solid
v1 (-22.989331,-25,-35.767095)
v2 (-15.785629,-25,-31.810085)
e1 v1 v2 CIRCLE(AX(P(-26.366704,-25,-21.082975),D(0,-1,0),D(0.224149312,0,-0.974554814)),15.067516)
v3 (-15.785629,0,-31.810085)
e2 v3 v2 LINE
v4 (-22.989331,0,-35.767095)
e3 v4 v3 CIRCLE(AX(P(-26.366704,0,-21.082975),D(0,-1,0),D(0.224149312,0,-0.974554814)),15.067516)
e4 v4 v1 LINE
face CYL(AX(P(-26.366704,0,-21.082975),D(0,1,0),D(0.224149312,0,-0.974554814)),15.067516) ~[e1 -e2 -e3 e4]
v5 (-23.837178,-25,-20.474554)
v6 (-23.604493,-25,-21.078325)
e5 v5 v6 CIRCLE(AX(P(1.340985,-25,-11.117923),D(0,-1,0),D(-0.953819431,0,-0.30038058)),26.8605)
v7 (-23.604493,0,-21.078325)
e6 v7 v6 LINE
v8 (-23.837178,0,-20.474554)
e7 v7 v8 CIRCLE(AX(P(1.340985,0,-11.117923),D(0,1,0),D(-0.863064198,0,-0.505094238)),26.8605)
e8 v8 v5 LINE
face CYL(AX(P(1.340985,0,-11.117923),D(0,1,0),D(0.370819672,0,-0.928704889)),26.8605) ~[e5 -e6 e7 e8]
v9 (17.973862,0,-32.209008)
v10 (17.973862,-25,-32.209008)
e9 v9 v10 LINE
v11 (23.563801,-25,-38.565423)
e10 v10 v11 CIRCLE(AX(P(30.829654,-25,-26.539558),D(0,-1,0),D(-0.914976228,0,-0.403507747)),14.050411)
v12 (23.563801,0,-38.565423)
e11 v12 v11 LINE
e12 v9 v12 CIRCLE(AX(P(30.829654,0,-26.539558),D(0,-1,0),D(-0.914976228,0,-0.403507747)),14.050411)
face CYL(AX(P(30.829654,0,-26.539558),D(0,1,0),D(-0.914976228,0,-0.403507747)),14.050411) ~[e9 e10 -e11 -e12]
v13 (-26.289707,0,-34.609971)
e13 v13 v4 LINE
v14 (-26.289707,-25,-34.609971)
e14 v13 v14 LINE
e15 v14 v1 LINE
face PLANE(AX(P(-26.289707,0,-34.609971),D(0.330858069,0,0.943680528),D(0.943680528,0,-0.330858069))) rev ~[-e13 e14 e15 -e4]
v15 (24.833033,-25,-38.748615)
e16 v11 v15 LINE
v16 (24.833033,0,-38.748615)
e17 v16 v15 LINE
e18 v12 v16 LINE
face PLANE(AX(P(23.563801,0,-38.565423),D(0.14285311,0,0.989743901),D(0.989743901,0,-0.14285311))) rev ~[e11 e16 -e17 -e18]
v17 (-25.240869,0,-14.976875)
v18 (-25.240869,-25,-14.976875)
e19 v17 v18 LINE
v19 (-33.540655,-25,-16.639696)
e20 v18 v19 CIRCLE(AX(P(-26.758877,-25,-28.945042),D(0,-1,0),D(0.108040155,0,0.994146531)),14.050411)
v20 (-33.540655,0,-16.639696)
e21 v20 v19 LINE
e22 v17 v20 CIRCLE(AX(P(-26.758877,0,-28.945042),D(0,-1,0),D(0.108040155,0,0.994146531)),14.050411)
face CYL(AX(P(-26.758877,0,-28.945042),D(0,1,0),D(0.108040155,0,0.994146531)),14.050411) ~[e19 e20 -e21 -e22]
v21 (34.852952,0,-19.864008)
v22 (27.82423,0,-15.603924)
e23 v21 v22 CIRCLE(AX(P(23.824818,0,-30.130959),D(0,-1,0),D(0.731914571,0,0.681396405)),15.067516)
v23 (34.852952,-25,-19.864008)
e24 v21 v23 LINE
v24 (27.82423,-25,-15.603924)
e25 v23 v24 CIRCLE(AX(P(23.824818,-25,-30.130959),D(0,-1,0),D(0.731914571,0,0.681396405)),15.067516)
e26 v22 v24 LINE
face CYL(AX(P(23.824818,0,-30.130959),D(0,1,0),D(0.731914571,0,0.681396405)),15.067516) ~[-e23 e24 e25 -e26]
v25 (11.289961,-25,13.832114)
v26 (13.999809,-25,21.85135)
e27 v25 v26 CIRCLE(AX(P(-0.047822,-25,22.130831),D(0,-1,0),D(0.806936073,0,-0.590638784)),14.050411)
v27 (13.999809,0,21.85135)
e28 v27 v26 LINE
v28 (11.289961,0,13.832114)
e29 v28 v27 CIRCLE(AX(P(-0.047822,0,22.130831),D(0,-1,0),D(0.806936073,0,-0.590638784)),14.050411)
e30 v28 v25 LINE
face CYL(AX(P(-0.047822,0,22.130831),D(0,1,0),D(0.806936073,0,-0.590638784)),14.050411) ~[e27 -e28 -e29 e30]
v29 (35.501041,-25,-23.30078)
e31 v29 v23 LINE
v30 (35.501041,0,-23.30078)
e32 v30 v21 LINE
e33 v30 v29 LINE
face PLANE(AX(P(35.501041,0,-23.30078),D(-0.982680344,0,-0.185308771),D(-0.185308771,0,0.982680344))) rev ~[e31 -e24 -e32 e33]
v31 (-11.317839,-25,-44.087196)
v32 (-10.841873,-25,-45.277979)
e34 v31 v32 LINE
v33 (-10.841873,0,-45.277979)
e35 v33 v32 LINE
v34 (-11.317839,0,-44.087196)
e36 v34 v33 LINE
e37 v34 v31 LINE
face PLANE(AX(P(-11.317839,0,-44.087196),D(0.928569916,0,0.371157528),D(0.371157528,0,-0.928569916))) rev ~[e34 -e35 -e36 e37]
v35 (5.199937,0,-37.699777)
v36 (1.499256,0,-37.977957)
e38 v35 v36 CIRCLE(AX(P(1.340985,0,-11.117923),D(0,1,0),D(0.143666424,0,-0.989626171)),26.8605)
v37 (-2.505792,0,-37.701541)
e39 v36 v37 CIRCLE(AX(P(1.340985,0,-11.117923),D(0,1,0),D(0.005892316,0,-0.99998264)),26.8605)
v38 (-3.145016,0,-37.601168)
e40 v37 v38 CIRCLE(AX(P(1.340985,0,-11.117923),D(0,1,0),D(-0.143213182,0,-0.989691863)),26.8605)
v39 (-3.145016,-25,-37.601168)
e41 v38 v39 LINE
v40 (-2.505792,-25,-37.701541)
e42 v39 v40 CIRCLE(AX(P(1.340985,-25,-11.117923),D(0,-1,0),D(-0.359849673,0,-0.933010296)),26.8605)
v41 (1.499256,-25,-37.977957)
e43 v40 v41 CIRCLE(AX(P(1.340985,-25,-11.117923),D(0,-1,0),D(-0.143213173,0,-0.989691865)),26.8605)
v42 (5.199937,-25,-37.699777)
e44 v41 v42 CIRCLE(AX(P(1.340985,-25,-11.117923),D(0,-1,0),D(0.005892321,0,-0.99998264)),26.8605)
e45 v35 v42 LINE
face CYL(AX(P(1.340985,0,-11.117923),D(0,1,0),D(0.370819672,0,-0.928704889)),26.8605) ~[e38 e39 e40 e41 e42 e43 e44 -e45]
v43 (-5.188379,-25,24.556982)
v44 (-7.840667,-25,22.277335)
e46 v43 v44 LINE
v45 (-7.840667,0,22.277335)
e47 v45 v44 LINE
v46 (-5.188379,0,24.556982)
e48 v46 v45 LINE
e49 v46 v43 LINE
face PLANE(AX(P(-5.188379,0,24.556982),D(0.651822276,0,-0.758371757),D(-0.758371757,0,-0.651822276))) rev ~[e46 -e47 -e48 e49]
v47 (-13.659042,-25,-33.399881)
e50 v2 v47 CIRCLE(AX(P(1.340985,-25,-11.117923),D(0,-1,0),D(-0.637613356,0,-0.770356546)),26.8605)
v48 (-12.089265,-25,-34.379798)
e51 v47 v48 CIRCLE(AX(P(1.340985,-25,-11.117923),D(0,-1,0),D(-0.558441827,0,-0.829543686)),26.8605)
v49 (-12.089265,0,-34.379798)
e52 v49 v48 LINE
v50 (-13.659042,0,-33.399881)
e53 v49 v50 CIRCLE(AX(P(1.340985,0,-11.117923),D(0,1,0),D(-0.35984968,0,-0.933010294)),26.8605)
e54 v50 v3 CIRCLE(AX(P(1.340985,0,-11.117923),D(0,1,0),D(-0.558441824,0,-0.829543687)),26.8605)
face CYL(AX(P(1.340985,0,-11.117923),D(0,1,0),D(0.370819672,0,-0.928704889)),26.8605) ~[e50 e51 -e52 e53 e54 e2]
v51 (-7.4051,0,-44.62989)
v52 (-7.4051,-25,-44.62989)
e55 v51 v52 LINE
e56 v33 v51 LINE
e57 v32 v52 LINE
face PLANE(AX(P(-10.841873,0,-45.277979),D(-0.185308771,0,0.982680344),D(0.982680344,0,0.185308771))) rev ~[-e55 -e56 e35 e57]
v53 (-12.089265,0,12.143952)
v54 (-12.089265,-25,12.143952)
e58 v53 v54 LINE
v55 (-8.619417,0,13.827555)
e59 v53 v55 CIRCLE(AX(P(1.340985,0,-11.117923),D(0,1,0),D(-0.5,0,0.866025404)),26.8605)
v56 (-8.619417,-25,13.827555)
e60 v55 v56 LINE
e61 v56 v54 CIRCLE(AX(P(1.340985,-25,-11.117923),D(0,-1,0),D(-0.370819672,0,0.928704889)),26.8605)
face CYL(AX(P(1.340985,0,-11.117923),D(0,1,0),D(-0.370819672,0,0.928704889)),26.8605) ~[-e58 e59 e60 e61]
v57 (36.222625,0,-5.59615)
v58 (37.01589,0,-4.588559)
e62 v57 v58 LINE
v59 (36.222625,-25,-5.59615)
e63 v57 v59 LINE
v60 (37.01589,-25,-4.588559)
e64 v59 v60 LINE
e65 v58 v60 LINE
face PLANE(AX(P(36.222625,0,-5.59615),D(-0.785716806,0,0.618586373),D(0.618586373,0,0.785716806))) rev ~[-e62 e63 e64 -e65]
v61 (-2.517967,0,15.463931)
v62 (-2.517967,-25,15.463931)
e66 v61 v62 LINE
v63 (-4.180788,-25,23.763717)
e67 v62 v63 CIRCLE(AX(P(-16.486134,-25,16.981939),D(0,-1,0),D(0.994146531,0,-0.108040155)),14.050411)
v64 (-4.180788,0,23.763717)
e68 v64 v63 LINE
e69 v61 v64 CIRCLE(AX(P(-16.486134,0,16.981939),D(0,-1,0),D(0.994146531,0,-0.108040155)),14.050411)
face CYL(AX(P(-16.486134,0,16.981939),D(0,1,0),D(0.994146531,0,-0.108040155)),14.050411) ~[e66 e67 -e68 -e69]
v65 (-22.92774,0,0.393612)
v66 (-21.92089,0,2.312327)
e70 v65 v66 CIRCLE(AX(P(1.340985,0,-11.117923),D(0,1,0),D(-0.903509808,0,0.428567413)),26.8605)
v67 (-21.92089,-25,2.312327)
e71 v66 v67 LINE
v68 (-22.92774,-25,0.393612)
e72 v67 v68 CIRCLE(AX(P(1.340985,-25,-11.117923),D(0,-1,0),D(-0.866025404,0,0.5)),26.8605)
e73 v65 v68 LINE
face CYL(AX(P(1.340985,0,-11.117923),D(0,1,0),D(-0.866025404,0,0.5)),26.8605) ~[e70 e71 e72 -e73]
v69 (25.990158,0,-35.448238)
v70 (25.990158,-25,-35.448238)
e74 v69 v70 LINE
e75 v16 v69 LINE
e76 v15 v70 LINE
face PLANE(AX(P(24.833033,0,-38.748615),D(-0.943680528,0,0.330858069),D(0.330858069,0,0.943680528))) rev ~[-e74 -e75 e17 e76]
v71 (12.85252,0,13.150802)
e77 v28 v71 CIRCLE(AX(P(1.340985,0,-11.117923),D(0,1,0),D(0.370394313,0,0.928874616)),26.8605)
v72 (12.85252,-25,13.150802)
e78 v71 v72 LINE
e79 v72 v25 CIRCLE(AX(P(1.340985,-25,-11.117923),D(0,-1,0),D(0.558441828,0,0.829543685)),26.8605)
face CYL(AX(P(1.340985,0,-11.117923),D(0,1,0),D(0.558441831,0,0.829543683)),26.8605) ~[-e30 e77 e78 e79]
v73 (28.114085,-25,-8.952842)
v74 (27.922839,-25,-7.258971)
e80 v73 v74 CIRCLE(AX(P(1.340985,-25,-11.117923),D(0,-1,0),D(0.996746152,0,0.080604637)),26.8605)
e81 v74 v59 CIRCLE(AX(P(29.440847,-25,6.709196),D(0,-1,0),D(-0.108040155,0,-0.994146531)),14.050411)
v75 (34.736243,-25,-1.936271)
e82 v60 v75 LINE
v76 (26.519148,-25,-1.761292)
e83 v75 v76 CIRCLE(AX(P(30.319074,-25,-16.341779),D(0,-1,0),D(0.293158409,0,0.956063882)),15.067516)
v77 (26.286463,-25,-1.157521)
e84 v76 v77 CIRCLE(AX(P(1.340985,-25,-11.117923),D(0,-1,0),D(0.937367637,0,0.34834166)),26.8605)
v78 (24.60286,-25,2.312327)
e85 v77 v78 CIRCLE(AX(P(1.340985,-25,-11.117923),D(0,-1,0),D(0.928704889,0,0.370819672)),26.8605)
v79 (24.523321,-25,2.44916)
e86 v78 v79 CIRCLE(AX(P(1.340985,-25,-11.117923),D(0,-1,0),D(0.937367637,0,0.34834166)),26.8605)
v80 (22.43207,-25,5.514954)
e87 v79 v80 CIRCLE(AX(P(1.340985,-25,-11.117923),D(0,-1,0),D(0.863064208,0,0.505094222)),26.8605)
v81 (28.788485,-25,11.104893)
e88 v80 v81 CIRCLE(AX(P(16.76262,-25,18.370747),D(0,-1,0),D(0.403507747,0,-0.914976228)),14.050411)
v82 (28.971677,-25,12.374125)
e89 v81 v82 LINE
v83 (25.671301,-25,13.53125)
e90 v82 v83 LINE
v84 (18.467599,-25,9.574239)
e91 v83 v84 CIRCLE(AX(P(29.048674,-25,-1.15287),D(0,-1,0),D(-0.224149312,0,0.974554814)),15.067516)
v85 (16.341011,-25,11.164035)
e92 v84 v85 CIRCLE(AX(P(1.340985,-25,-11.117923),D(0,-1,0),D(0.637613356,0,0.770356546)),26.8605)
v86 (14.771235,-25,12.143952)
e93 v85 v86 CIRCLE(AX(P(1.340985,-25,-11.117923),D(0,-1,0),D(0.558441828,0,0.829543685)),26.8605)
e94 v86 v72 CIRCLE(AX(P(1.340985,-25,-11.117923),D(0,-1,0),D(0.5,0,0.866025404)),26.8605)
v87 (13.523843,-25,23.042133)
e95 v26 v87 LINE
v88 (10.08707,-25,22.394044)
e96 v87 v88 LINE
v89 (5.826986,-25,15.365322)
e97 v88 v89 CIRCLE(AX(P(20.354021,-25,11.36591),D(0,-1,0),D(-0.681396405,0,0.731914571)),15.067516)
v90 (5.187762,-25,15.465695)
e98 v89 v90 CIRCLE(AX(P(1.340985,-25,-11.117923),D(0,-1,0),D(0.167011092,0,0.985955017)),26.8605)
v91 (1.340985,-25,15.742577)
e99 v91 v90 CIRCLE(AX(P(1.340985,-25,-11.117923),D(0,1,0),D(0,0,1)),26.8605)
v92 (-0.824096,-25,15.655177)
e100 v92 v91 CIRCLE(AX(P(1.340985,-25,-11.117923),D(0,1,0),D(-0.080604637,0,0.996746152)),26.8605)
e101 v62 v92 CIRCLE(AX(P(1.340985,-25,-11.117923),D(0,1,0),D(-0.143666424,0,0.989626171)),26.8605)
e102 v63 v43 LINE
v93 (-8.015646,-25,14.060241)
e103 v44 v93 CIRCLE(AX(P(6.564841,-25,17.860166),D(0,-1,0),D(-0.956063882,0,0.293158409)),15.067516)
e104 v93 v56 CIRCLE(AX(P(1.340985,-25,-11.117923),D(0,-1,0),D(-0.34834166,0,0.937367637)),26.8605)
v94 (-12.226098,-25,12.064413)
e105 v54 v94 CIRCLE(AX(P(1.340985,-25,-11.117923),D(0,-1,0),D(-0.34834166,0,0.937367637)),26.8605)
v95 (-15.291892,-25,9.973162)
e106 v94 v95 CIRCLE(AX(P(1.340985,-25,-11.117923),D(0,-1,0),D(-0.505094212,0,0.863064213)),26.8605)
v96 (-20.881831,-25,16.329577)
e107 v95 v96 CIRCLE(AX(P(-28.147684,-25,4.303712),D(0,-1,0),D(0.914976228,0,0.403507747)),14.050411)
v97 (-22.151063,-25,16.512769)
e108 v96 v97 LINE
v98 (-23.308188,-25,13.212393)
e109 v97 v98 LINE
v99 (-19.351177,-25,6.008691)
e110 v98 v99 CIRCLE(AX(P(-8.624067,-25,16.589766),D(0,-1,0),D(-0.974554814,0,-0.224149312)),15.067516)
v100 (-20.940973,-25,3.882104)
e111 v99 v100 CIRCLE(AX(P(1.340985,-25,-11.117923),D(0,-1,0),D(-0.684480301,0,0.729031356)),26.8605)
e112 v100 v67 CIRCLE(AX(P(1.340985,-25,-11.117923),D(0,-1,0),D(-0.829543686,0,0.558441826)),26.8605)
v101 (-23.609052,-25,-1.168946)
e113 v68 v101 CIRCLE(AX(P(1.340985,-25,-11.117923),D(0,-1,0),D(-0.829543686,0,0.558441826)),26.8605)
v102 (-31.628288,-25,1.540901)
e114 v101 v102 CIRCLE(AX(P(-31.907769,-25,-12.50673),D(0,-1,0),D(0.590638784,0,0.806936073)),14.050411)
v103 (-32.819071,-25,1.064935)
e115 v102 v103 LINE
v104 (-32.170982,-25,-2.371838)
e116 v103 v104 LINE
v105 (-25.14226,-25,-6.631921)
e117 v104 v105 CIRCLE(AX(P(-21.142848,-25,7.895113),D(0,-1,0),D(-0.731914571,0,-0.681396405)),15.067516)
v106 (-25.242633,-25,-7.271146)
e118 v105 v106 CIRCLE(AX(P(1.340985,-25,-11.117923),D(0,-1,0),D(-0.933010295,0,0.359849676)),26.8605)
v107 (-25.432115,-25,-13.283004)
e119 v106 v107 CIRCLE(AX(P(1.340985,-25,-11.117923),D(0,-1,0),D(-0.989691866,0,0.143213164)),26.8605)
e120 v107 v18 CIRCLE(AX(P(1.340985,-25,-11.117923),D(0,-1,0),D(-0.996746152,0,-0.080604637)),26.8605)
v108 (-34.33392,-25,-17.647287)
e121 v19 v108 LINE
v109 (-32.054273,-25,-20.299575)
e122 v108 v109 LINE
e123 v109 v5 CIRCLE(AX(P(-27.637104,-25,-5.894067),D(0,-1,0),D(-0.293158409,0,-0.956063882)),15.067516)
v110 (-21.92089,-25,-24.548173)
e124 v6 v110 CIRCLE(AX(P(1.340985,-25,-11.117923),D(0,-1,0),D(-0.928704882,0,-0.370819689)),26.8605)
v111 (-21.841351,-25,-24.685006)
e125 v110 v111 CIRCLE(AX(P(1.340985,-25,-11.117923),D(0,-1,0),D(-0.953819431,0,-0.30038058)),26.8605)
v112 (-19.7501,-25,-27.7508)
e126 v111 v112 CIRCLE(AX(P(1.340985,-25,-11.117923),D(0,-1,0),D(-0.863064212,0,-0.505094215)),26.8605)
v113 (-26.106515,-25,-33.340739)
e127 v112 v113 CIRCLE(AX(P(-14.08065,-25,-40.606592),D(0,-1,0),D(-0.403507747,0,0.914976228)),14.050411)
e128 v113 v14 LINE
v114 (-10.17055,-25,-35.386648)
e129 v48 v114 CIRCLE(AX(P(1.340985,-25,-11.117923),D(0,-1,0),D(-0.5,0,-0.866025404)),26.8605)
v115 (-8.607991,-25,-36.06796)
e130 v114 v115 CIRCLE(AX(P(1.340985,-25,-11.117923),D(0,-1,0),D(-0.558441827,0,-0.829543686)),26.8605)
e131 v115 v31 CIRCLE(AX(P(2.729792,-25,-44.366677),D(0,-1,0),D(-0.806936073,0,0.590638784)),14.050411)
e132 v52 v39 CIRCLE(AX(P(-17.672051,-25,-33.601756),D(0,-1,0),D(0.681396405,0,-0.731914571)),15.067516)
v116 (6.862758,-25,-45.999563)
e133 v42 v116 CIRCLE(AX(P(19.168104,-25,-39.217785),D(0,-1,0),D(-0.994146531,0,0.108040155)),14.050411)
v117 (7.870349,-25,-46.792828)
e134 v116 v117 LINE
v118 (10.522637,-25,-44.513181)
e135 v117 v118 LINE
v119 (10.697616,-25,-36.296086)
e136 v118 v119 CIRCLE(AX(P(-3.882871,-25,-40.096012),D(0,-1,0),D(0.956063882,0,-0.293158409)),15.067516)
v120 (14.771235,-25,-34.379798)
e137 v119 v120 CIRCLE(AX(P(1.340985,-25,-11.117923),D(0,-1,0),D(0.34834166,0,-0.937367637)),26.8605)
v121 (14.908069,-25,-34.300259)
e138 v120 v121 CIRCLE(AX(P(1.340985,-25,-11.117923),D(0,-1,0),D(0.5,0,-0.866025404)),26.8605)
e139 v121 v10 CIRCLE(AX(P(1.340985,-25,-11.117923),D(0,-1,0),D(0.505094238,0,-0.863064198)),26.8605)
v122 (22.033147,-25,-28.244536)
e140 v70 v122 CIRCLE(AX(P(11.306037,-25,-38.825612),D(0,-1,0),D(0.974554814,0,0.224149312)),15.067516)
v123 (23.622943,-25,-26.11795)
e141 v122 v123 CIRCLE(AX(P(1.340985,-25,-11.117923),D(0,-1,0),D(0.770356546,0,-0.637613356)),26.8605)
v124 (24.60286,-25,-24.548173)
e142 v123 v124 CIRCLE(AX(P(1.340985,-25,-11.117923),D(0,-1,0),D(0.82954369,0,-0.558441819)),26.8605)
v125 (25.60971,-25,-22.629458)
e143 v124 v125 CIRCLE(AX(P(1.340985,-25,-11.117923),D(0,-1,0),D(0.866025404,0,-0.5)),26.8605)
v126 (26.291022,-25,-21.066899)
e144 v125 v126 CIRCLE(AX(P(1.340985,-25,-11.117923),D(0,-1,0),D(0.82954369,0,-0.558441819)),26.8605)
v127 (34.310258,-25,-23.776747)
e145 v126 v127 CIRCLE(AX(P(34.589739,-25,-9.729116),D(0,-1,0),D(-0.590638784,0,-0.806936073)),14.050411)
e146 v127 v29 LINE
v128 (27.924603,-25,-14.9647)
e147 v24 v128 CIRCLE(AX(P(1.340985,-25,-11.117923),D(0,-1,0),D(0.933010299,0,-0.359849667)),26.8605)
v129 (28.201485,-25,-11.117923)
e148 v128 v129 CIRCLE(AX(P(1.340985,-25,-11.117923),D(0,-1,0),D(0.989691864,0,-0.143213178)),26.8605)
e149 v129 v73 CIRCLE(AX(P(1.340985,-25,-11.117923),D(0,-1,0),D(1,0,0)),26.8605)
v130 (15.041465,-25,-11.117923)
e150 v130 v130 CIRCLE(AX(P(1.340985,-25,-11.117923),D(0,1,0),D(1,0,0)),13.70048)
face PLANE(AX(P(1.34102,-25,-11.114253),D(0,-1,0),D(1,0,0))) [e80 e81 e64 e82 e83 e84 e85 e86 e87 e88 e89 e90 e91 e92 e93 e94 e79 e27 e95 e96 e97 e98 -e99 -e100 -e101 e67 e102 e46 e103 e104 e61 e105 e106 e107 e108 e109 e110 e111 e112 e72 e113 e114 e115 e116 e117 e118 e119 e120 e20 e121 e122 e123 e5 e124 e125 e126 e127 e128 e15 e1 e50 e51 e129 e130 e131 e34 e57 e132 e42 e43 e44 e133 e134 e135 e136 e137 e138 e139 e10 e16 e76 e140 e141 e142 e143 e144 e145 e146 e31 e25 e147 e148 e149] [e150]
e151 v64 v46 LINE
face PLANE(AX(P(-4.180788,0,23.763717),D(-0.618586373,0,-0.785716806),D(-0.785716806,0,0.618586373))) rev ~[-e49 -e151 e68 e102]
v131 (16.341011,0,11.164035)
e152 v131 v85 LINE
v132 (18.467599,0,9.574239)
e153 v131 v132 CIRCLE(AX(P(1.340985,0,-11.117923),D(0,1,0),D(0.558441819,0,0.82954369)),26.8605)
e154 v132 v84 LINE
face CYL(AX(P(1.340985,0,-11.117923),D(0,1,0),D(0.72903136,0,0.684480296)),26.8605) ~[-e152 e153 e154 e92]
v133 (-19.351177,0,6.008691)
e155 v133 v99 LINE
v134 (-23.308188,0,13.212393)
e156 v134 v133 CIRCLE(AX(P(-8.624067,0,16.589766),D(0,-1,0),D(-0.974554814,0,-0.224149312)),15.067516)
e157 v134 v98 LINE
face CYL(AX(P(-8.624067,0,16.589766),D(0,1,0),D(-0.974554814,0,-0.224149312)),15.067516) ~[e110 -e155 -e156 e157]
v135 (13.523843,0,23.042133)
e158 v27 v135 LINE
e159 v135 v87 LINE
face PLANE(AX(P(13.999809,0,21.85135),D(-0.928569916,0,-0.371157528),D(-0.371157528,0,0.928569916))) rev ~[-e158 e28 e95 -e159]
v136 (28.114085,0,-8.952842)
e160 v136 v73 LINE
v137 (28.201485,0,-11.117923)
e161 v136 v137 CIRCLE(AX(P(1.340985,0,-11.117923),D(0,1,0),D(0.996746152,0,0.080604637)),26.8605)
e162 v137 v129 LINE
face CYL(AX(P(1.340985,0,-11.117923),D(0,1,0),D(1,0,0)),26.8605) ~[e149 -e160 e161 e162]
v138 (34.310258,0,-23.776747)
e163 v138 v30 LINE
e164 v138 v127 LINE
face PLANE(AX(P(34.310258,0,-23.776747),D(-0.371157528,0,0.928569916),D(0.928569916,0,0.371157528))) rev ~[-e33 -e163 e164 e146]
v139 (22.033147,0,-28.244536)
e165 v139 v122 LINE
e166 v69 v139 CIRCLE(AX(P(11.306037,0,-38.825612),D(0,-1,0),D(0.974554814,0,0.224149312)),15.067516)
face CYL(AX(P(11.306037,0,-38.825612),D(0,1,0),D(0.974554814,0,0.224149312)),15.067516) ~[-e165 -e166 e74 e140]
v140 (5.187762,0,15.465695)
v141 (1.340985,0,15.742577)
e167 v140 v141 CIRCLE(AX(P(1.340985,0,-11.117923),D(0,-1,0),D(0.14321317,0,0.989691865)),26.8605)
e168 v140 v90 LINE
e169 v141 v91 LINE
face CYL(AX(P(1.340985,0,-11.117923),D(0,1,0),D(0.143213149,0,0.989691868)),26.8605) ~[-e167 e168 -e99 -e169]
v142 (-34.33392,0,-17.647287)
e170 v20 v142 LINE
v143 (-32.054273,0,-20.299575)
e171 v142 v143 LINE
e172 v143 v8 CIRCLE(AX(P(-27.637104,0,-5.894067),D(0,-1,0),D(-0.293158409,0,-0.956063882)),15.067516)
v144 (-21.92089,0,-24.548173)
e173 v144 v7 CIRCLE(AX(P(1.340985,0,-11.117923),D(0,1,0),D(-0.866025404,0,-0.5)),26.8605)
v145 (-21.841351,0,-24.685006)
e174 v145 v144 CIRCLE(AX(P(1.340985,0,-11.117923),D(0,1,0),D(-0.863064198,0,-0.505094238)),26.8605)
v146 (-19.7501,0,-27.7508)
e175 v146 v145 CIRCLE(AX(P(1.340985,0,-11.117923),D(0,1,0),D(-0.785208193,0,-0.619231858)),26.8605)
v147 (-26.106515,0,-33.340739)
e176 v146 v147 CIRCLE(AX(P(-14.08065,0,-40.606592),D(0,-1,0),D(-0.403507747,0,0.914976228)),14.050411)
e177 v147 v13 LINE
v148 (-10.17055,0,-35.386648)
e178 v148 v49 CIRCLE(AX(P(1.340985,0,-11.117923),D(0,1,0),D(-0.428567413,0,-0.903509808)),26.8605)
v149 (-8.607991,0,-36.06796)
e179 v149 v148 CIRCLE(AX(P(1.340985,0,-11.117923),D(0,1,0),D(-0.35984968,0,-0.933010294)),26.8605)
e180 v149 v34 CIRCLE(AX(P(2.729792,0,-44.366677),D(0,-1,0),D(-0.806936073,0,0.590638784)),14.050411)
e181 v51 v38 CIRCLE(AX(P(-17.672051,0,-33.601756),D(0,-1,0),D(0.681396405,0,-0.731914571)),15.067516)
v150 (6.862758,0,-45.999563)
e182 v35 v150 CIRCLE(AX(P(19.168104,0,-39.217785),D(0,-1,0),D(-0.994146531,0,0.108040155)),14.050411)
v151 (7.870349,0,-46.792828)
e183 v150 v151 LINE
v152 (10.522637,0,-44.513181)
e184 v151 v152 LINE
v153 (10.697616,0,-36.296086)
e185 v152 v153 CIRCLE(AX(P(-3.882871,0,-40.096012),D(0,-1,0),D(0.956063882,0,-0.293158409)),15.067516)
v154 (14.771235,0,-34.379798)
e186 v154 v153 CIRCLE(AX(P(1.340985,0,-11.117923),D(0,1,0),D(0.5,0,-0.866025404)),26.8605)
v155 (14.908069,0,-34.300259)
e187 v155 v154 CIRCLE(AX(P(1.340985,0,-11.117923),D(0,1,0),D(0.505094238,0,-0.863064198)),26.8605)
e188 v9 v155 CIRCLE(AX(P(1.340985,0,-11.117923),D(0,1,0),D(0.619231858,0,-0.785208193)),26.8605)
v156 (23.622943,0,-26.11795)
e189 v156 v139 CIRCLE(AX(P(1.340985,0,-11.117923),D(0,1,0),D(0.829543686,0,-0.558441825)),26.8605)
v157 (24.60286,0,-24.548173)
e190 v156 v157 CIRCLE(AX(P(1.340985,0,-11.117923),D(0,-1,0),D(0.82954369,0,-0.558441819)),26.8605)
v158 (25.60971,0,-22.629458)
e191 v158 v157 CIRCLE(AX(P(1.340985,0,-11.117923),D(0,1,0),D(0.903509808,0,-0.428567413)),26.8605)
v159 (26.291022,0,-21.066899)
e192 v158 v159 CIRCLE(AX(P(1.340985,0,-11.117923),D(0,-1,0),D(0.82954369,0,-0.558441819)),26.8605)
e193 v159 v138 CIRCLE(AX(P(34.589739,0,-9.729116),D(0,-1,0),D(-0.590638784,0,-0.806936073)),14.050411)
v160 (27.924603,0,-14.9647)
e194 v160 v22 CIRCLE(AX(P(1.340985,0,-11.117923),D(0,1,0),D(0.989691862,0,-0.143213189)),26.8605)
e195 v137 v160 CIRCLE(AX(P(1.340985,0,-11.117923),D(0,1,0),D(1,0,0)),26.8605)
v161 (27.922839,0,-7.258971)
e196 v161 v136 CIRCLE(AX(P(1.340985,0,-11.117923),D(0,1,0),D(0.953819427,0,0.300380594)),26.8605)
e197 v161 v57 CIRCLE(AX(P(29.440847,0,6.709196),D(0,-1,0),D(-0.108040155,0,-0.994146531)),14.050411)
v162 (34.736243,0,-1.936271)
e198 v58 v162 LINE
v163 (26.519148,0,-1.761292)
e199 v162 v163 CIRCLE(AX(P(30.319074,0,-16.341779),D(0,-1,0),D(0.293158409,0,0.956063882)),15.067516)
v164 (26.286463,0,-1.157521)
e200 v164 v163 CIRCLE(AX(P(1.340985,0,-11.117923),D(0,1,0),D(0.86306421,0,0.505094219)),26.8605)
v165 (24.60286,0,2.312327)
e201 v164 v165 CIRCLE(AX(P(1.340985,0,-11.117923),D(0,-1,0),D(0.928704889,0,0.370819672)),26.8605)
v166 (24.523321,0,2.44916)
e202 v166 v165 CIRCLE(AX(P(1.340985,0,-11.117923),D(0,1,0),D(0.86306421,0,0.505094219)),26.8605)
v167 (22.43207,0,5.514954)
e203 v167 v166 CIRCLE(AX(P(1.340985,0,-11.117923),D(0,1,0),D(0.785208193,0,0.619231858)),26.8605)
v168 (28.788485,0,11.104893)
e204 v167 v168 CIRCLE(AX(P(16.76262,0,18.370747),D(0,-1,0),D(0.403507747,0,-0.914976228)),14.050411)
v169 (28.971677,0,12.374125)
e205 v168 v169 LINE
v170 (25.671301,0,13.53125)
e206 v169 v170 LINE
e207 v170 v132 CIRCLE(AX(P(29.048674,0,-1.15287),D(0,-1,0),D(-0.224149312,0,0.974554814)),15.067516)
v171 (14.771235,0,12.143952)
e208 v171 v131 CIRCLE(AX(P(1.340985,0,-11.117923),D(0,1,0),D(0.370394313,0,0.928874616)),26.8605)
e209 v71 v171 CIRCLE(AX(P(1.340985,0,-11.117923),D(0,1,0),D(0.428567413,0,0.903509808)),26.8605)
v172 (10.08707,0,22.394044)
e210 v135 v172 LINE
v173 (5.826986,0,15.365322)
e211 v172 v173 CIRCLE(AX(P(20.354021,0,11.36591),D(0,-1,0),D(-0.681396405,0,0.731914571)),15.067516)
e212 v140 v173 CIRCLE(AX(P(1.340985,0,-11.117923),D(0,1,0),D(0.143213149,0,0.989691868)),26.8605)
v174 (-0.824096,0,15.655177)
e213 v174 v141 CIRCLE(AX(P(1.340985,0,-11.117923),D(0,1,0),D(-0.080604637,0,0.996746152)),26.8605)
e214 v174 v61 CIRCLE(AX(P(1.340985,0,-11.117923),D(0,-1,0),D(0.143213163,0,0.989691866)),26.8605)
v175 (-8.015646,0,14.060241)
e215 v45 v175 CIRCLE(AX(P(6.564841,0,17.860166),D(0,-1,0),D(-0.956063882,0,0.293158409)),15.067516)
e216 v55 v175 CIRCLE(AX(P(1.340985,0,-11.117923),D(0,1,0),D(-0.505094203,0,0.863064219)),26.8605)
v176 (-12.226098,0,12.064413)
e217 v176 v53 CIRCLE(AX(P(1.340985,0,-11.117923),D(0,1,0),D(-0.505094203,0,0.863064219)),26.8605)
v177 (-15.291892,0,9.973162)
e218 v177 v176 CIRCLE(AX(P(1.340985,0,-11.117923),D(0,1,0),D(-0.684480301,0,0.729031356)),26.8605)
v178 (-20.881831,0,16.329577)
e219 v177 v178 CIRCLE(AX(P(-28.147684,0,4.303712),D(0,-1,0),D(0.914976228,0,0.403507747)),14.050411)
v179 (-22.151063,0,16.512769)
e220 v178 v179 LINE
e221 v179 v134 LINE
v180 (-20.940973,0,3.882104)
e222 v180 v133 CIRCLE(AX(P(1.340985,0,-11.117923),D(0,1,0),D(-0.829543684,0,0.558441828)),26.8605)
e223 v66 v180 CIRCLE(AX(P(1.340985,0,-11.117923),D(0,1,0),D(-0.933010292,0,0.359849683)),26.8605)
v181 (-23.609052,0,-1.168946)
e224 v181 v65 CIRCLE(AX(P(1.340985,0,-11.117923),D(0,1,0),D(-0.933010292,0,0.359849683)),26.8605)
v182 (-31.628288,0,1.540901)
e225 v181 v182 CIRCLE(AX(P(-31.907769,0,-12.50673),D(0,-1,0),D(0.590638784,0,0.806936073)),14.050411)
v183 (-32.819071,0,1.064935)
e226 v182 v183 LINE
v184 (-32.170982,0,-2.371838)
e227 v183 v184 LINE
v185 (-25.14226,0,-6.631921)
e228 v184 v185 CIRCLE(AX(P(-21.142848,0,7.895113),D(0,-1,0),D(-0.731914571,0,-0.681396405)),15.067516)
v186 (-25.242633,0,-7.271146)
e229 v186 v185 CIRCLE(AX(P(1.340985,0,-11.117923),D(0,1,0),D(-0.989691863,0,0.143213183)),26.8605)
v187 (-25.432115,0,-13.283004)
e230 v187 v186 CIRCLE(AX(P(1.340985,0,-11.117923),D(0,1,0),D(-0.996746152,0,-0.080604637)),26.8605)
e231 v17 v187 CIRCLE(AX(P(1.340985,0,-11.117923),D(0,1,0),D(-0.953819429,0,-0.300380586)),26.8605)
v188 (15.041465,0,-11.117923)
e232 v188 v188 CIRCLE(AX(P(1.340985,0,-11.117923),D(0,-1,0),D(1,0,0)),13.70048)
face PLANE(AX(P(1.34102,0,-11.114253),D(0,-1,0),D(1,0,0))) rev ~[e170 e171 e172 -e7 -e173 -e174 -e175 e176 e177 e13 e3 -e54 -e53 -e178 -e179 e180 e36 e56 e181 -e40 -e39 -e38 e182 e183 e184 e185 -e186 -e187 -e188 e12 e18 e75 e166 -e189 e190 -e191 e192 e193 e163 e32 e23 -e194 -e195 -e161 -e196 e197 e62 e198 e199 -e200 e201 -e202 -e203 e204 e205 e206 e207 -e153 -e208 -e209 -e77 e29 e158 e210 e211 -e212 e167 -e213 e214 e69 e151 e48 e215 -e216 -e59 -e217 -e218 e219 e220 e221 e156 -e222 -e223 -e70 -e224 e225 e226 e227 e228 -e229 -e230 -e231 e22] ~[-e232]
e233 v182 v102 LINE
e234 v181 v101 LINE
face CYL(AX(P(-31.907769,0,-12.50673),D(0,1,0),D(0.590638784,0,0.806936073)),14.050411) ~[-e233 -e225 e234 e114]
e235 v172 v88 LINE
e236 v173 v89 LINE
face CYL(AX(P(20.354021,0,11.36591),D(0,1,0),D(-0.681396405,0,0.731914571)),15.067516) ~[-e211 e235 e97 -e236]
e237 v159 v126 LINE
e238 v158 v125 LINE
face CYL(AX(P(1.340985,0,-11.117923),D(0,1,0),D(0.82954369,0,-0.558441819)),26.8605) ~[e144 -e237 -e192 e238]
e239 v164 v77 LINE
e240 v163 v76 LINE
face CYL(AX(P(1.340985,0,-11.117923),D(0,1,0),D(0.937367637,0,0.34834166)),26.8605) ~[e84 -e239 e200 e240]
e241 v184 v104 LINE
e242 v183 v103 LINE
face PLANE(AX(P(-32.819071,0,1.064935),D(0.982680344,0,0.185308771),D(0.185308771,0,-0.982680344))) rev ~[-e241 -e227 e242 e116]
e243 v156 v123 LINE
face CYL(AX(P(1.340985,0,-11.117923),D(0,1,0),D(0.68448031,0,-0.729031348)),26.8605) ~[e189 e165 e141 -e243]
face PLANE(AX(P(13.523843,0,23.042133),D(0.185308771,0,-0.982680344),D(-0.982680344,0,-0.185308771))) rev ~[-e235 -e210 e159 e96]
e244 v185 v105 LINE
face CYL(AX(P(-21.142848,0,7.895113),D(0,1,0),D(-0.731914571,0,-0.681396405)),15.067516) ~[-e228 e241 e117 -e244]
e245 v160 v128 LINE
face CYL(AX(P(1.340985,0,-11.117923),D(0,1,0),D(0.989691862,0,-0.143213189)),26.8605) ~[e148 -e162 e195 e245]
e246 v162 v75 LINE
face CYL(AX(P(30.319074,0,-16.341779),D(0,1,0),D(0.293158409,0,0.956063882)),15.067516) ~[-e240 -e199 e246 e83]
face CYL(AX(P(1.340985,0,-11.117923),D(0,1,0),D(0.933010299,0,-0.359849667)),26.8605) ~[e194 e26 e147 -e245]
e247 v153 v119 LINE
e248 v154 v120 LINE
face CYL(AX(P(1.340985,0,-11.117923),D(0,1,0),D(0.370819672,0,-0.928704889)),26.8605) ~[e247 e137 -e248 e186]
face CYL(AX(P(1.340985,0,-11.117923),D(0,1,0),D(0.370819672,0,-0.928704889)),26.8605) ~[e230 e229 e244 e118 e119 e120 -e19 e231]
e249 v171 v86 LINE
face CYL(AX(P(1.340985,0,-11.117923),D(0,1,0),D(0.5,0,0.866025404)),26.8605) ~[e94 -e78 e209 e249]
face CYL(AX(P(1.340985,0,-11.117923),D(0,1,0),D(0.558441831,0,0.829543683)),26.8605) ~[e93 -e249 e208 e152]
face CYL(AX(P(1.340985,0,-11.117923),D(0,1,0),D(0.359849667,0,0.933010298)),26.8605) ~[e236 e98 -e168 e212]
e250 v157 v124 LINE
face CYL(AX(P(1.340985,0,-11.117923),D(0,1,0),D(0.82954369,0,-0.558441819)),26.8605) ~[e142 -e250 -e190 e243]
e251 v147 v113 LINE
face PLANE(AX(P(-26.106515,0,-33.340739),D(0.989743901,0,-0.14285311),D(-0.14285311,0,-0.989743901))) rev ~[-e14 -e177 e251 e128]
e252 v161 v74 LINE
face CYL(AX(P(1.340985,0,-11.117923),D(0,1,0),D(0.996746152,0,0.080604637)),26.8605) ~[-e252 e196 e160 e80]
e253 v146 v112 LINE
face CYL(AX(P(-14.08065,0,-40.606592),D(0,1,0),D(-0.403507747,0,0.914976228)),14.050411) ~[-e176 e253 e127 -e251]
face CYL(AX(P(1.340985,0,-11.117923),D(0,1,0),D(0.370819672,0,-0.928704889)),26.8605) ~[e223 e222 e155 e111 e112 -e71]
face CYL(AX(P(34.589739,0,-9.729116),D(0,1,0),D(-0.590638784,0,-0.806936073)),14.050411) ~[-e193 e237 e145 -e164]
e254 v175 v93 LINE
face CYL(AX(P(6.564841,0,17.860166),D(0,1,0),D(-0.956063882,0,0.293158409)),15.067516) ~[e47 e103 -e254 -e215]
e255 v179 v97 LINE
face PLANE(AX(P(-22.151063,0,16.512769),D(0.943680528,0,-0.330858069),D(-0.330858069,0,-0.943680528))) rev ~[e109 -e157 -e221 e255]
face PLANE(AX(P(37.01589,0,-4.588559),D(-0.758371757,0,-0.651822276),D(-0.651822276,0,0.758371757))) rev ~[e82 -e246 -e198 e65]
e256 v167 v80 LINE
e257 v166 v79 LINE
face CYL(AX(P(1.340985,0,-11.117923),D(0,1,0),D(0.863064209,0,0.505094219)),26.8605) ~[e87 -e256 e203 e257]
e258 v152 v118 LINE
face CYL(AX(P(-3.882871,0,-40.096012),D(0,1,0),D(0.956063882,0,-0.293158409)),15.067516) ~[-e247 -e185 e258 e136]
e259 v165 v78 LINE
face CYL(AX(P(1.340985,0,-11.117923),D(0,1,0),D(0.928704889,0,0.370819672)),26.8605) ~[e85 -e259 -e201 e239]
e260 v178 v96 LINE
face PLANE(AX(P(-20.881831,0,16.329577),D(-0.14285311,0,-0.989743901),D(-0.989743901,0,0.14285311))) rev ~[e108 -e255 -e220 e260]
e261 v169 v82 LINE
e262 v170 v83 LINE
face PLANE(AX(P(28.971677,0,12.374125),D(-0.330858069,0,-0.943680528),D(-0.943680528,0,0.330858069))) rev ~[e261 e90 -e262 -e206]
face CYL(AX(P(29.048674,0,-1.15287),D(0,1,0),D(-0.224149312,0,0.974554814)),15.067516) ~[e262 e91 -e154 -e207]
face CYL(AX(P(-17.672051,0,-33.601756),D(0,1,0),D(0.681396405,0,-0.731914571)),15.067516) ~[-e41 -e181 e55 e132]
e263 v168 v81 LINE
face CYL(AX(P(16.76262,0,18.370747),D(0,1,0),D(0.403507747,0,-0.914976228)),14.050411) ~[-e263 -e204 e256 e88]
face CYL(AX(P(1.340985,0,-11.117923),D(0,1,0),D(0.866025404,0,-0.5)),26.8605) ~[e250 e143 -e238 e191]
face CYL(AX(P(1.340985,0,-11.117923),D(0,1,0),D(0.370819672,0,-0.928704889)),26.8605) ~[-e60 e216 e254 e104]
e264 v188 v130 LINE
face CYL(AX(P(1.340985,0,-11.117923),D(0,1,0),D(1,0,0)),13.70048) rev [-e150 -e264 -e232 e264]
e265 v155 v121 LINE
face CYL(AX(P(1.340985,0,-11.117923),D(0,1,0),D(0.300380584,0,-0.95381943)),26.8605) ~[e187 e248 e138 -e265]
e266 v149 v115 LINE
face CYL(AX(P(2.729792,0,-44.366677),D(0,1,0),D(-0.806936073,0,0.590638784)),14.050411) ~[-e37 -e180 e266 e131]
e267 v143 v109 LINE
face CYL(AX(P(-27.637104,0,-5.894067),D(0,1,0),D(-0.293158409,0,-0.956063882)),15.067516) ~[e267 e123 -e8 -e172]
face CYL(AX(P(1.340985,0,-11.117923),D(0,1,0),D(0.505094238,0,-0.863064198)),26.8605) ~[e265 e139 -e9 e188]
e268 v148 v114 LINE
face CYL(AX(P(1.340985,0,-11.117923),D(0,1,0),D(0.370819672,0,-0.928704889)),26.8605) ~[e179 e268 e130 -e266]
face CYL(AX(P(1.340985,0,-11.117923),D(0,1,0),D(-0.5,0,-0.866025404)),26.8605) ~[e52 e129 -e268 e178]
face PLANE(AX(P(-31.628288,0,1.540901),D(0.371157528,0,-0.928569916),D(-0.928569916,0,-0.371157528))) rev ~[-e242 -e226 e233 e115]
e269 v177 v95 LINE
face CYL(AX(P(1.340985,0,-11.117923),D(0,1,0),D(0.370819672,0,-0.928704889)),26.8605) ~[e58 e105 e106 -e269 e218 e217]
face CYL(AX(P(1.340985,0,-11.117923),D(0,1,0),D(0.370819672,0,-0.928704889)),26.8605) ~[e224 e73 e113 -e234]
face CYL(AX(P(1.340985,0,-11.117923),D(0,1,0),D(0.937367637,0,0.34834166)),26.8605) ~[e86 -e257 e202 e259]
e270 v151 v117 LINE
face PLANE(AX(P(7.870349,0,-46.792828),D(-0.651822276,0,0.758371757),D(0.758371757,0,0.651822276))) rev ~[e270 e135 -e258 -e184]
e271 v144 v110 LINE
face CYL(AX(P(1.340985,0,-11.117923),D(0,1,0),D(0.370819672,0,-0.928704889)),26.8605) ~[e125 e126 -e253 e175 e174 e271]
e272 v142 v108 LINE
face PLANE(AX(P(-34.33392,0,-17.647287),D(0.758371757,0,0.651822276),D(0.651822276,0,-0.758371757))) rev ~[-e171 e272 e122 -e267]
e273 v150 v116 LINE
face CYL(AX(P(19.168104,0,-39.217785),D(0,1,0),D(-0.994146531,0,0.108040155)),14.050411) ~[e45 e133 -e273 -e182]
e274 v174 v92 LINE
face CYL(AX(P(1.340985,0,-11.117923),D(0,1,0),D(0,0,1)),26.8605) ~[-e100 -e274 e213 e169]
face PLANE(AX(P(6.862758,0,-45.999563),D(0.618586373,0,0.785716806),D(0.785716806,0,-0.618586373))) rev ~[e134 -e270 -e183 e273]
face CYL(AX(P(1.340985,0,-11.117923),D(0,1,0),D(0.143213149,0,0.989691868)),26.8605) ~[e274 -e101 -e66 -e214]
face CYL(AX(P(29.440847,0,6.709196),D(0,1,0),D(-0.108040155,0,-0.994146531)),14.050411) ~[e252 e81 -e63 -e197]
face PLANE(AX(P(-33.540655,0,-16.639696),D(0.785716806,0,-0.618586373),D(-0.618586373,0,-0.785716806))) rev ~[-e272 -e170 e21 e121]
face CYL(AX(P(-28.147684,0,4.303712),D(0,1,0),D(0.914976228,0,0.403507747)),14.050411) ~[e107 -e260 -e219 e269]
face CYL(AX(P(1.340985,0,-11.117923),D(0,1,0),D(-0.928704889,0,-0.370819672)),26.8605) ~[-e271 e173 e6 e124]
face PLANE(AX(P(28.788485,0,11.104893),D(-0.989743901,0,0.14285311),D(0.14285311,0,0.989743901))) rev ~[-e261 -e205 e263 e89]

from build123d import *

# Parameters (mm, degrees)
F0_R     = 13.7004804212
F1_DEPTH = 25
F2_COUNT = 12


with BuildPart() as f1:
    # F0 (on Front) → F1 (new body)
    with BuildSketch(Plane.XZ):
        with BuildLine():
            ThreePointArc((5.1877617459, 15.4656955182), (1.3348337551, 15.7425763881), (-2.5179670171, 15.4639308632))
            ThreePointArc((-2.5179670171, 15.4639308632), (-5.3039752447, 14.9076599703), (-8.0156462094, 14.0602405167))
            ThreePointArc((-8.0156462094, 14.0602405167), (-10.1642311279, 13.1537985607), (-12.2260978725, 12.064413551))
            ThreePointArc((-12.2260978725, 12.064413551), (-14.7363892101, 10.3996164513), (-17.044498214, 8.4642237758))
            ThreePointArc((-17.044498214, 8.4642237758), (-19.1213988999, 6.2825744141), (-20.9409732492, 3.8821037136))
            ThreePointArc((-20.9409732492, 3.8821037136), (-22.4803390837, 1.292998939), (-23.7201379517, -1.4521803764))
            ThreePointArc((-23.7201379517, -1.4521803764), (-24.6447786512, -4.3189119634), (-25.2426333118, -7.2711450539))
            ThreePointArc((-25.2426333118, -7.2711450539), (-25.5061835733, -10.2717538785), (-25.4321150685, -13.2830037711))
            ThreePointArc((-25.4321150685, -13.2830037711), (-25.0213593458, -16.2670260316), (-24.2790819112, -19.1862953452))
            ThreePointArc((-24.2790819112, -19.1862953452), (-23.2146169595, -22.0041010545), (-21.8413509371, -24.6850067))
            ThreePointArc((-21.8413509371, -24.6850067), (-20.1765542068, -27.195297335), (-18.2411620449, -29.5034057391))
            ThreePointArc((-18.2411620449, -29.5034057391), (-16.0595125704, -31.5803065899), (-13.6590417261, -33.3998810729))
            ThreePointArc((-13.6590417261, -33.3998810729), (-11.0699368198, -34.9392469858), (-8.3247573578, -36.1790459013))
            ThreePointArc((-8.3247573578, -36.1790459013), (-5.4580256945, -37.1036865942), (-2.5057925274, -37.701541232))
            ThreePointArc((-2.5057925274, -37.701541232), (0.494815816, -37.9650914367), (3.5060652253, -37.8910229838))
            ThreePointArc((3.5060652253, -37.8910229838), (6.490087912, -37.4802672463), (9.4093576356, -36.7379897032))
            ThreePointArc((9.4093576356, -36.7379897032), (12.2271632206, -35.6735247759), (14.9080687518, -34.3002588042))
            ThreePointArc((14.9080687518, -34.3002588042), (17.418359676, -32.6354618578), (19.7264683173, -30.7000694179))
            ThreePointArc((19.7264683173, -30.7000694179), (21.8033689519, -28.5184200728), (23.6229432563, -26.1179493978))
            ThreePointArc((23.6229432563, -26.1179493978), (25.1623091778, -23.5288444178), (26.4021080868, -20.7836648785))
            ThreePointArc((26.4021080868, -20.7836648785), (27.3267486462, -17.9169335612), (27.9246032308, -14.9647007613))
            ThreePointArc((27.9246032308, -14.9647007613), (28.132175105, -13.0462877166), (28.2014849595, -11.1179229076))
            ThreePointArc((28.2014849595, -11.1179229076), (28.1796260721, -10.0345007945), (28.1140849874, -8.9528420441))
            ThreePointArc((28.1140849874, -8.9528420441), (27.7033292139, -5.9688195233), (26.9610516709, -3.0495499642))
            ThreePointArc((26.9610516709, -3.0495499642), (25.8965868926, -0.2317447927), (24.5233211592, 2.4491603668))
            ThreePointArc((24.5233211592, 2.4491603668), (22.8585242407, 4.9594513659), (20.923131816, 7.2675600815))
            ThreePointArc((20.923131816, 7.2675600815), (18.7414824625, 9.3444607976), (16.3410117658, 11.1640351765))
            ThreePointArc((16.3410117658, 11.1640351765), (13.7519066478, 12.703401218), (11.0067269497, 13.9432002123))
            ThreePointArc((11.0067269497, 13.9432002123), (8.1399951015, 14.867840913), (5.1877617459, 15.4656955182))
        make_face()
        with Locations((1.3409849595, -11.1179229076)):
            Circle(F0_R, mode=Mode.SUBTRACT)
        with BuildLine():
            ThreePointArc((-8.0156462094, 14.0602405167), (-5.3039752447, 14.9076599703), (-2.5179670171, 15.4639308632))
            ThreePointArc((-2.5179670171, 15.4639308632), (-2.7094878329, 19.7420226798), (-4.1807882522, 23.7637169608))
            Line((-4.1807882522, 23.7637169608), (-5.1883789909, 24.5569822892))
            Line((-5.1883789909, 24.5569822892), (-7.8406668751, 22.2773347298))
            ThreePointArc((-7.8406668751, 22.2773347298), (-8.4992599438, 18.1809490139), (-8.0156462094, 14.0602405167))
        make_face()
    extrude(amount=F1_DEPTH)

    # F2: F1 ×12 about axis
    f2_axis = Axis((1.3409849595, 0, -11.1179229076), (0, 1, 0))


with BuildPart() as f1_1:
    add(f1.part)
    for i in range(1, F2_COUNT):
        add(f1.part.rotate(f2_axis, i * 360 / F2_COUNT))


solid = f1_1.part
